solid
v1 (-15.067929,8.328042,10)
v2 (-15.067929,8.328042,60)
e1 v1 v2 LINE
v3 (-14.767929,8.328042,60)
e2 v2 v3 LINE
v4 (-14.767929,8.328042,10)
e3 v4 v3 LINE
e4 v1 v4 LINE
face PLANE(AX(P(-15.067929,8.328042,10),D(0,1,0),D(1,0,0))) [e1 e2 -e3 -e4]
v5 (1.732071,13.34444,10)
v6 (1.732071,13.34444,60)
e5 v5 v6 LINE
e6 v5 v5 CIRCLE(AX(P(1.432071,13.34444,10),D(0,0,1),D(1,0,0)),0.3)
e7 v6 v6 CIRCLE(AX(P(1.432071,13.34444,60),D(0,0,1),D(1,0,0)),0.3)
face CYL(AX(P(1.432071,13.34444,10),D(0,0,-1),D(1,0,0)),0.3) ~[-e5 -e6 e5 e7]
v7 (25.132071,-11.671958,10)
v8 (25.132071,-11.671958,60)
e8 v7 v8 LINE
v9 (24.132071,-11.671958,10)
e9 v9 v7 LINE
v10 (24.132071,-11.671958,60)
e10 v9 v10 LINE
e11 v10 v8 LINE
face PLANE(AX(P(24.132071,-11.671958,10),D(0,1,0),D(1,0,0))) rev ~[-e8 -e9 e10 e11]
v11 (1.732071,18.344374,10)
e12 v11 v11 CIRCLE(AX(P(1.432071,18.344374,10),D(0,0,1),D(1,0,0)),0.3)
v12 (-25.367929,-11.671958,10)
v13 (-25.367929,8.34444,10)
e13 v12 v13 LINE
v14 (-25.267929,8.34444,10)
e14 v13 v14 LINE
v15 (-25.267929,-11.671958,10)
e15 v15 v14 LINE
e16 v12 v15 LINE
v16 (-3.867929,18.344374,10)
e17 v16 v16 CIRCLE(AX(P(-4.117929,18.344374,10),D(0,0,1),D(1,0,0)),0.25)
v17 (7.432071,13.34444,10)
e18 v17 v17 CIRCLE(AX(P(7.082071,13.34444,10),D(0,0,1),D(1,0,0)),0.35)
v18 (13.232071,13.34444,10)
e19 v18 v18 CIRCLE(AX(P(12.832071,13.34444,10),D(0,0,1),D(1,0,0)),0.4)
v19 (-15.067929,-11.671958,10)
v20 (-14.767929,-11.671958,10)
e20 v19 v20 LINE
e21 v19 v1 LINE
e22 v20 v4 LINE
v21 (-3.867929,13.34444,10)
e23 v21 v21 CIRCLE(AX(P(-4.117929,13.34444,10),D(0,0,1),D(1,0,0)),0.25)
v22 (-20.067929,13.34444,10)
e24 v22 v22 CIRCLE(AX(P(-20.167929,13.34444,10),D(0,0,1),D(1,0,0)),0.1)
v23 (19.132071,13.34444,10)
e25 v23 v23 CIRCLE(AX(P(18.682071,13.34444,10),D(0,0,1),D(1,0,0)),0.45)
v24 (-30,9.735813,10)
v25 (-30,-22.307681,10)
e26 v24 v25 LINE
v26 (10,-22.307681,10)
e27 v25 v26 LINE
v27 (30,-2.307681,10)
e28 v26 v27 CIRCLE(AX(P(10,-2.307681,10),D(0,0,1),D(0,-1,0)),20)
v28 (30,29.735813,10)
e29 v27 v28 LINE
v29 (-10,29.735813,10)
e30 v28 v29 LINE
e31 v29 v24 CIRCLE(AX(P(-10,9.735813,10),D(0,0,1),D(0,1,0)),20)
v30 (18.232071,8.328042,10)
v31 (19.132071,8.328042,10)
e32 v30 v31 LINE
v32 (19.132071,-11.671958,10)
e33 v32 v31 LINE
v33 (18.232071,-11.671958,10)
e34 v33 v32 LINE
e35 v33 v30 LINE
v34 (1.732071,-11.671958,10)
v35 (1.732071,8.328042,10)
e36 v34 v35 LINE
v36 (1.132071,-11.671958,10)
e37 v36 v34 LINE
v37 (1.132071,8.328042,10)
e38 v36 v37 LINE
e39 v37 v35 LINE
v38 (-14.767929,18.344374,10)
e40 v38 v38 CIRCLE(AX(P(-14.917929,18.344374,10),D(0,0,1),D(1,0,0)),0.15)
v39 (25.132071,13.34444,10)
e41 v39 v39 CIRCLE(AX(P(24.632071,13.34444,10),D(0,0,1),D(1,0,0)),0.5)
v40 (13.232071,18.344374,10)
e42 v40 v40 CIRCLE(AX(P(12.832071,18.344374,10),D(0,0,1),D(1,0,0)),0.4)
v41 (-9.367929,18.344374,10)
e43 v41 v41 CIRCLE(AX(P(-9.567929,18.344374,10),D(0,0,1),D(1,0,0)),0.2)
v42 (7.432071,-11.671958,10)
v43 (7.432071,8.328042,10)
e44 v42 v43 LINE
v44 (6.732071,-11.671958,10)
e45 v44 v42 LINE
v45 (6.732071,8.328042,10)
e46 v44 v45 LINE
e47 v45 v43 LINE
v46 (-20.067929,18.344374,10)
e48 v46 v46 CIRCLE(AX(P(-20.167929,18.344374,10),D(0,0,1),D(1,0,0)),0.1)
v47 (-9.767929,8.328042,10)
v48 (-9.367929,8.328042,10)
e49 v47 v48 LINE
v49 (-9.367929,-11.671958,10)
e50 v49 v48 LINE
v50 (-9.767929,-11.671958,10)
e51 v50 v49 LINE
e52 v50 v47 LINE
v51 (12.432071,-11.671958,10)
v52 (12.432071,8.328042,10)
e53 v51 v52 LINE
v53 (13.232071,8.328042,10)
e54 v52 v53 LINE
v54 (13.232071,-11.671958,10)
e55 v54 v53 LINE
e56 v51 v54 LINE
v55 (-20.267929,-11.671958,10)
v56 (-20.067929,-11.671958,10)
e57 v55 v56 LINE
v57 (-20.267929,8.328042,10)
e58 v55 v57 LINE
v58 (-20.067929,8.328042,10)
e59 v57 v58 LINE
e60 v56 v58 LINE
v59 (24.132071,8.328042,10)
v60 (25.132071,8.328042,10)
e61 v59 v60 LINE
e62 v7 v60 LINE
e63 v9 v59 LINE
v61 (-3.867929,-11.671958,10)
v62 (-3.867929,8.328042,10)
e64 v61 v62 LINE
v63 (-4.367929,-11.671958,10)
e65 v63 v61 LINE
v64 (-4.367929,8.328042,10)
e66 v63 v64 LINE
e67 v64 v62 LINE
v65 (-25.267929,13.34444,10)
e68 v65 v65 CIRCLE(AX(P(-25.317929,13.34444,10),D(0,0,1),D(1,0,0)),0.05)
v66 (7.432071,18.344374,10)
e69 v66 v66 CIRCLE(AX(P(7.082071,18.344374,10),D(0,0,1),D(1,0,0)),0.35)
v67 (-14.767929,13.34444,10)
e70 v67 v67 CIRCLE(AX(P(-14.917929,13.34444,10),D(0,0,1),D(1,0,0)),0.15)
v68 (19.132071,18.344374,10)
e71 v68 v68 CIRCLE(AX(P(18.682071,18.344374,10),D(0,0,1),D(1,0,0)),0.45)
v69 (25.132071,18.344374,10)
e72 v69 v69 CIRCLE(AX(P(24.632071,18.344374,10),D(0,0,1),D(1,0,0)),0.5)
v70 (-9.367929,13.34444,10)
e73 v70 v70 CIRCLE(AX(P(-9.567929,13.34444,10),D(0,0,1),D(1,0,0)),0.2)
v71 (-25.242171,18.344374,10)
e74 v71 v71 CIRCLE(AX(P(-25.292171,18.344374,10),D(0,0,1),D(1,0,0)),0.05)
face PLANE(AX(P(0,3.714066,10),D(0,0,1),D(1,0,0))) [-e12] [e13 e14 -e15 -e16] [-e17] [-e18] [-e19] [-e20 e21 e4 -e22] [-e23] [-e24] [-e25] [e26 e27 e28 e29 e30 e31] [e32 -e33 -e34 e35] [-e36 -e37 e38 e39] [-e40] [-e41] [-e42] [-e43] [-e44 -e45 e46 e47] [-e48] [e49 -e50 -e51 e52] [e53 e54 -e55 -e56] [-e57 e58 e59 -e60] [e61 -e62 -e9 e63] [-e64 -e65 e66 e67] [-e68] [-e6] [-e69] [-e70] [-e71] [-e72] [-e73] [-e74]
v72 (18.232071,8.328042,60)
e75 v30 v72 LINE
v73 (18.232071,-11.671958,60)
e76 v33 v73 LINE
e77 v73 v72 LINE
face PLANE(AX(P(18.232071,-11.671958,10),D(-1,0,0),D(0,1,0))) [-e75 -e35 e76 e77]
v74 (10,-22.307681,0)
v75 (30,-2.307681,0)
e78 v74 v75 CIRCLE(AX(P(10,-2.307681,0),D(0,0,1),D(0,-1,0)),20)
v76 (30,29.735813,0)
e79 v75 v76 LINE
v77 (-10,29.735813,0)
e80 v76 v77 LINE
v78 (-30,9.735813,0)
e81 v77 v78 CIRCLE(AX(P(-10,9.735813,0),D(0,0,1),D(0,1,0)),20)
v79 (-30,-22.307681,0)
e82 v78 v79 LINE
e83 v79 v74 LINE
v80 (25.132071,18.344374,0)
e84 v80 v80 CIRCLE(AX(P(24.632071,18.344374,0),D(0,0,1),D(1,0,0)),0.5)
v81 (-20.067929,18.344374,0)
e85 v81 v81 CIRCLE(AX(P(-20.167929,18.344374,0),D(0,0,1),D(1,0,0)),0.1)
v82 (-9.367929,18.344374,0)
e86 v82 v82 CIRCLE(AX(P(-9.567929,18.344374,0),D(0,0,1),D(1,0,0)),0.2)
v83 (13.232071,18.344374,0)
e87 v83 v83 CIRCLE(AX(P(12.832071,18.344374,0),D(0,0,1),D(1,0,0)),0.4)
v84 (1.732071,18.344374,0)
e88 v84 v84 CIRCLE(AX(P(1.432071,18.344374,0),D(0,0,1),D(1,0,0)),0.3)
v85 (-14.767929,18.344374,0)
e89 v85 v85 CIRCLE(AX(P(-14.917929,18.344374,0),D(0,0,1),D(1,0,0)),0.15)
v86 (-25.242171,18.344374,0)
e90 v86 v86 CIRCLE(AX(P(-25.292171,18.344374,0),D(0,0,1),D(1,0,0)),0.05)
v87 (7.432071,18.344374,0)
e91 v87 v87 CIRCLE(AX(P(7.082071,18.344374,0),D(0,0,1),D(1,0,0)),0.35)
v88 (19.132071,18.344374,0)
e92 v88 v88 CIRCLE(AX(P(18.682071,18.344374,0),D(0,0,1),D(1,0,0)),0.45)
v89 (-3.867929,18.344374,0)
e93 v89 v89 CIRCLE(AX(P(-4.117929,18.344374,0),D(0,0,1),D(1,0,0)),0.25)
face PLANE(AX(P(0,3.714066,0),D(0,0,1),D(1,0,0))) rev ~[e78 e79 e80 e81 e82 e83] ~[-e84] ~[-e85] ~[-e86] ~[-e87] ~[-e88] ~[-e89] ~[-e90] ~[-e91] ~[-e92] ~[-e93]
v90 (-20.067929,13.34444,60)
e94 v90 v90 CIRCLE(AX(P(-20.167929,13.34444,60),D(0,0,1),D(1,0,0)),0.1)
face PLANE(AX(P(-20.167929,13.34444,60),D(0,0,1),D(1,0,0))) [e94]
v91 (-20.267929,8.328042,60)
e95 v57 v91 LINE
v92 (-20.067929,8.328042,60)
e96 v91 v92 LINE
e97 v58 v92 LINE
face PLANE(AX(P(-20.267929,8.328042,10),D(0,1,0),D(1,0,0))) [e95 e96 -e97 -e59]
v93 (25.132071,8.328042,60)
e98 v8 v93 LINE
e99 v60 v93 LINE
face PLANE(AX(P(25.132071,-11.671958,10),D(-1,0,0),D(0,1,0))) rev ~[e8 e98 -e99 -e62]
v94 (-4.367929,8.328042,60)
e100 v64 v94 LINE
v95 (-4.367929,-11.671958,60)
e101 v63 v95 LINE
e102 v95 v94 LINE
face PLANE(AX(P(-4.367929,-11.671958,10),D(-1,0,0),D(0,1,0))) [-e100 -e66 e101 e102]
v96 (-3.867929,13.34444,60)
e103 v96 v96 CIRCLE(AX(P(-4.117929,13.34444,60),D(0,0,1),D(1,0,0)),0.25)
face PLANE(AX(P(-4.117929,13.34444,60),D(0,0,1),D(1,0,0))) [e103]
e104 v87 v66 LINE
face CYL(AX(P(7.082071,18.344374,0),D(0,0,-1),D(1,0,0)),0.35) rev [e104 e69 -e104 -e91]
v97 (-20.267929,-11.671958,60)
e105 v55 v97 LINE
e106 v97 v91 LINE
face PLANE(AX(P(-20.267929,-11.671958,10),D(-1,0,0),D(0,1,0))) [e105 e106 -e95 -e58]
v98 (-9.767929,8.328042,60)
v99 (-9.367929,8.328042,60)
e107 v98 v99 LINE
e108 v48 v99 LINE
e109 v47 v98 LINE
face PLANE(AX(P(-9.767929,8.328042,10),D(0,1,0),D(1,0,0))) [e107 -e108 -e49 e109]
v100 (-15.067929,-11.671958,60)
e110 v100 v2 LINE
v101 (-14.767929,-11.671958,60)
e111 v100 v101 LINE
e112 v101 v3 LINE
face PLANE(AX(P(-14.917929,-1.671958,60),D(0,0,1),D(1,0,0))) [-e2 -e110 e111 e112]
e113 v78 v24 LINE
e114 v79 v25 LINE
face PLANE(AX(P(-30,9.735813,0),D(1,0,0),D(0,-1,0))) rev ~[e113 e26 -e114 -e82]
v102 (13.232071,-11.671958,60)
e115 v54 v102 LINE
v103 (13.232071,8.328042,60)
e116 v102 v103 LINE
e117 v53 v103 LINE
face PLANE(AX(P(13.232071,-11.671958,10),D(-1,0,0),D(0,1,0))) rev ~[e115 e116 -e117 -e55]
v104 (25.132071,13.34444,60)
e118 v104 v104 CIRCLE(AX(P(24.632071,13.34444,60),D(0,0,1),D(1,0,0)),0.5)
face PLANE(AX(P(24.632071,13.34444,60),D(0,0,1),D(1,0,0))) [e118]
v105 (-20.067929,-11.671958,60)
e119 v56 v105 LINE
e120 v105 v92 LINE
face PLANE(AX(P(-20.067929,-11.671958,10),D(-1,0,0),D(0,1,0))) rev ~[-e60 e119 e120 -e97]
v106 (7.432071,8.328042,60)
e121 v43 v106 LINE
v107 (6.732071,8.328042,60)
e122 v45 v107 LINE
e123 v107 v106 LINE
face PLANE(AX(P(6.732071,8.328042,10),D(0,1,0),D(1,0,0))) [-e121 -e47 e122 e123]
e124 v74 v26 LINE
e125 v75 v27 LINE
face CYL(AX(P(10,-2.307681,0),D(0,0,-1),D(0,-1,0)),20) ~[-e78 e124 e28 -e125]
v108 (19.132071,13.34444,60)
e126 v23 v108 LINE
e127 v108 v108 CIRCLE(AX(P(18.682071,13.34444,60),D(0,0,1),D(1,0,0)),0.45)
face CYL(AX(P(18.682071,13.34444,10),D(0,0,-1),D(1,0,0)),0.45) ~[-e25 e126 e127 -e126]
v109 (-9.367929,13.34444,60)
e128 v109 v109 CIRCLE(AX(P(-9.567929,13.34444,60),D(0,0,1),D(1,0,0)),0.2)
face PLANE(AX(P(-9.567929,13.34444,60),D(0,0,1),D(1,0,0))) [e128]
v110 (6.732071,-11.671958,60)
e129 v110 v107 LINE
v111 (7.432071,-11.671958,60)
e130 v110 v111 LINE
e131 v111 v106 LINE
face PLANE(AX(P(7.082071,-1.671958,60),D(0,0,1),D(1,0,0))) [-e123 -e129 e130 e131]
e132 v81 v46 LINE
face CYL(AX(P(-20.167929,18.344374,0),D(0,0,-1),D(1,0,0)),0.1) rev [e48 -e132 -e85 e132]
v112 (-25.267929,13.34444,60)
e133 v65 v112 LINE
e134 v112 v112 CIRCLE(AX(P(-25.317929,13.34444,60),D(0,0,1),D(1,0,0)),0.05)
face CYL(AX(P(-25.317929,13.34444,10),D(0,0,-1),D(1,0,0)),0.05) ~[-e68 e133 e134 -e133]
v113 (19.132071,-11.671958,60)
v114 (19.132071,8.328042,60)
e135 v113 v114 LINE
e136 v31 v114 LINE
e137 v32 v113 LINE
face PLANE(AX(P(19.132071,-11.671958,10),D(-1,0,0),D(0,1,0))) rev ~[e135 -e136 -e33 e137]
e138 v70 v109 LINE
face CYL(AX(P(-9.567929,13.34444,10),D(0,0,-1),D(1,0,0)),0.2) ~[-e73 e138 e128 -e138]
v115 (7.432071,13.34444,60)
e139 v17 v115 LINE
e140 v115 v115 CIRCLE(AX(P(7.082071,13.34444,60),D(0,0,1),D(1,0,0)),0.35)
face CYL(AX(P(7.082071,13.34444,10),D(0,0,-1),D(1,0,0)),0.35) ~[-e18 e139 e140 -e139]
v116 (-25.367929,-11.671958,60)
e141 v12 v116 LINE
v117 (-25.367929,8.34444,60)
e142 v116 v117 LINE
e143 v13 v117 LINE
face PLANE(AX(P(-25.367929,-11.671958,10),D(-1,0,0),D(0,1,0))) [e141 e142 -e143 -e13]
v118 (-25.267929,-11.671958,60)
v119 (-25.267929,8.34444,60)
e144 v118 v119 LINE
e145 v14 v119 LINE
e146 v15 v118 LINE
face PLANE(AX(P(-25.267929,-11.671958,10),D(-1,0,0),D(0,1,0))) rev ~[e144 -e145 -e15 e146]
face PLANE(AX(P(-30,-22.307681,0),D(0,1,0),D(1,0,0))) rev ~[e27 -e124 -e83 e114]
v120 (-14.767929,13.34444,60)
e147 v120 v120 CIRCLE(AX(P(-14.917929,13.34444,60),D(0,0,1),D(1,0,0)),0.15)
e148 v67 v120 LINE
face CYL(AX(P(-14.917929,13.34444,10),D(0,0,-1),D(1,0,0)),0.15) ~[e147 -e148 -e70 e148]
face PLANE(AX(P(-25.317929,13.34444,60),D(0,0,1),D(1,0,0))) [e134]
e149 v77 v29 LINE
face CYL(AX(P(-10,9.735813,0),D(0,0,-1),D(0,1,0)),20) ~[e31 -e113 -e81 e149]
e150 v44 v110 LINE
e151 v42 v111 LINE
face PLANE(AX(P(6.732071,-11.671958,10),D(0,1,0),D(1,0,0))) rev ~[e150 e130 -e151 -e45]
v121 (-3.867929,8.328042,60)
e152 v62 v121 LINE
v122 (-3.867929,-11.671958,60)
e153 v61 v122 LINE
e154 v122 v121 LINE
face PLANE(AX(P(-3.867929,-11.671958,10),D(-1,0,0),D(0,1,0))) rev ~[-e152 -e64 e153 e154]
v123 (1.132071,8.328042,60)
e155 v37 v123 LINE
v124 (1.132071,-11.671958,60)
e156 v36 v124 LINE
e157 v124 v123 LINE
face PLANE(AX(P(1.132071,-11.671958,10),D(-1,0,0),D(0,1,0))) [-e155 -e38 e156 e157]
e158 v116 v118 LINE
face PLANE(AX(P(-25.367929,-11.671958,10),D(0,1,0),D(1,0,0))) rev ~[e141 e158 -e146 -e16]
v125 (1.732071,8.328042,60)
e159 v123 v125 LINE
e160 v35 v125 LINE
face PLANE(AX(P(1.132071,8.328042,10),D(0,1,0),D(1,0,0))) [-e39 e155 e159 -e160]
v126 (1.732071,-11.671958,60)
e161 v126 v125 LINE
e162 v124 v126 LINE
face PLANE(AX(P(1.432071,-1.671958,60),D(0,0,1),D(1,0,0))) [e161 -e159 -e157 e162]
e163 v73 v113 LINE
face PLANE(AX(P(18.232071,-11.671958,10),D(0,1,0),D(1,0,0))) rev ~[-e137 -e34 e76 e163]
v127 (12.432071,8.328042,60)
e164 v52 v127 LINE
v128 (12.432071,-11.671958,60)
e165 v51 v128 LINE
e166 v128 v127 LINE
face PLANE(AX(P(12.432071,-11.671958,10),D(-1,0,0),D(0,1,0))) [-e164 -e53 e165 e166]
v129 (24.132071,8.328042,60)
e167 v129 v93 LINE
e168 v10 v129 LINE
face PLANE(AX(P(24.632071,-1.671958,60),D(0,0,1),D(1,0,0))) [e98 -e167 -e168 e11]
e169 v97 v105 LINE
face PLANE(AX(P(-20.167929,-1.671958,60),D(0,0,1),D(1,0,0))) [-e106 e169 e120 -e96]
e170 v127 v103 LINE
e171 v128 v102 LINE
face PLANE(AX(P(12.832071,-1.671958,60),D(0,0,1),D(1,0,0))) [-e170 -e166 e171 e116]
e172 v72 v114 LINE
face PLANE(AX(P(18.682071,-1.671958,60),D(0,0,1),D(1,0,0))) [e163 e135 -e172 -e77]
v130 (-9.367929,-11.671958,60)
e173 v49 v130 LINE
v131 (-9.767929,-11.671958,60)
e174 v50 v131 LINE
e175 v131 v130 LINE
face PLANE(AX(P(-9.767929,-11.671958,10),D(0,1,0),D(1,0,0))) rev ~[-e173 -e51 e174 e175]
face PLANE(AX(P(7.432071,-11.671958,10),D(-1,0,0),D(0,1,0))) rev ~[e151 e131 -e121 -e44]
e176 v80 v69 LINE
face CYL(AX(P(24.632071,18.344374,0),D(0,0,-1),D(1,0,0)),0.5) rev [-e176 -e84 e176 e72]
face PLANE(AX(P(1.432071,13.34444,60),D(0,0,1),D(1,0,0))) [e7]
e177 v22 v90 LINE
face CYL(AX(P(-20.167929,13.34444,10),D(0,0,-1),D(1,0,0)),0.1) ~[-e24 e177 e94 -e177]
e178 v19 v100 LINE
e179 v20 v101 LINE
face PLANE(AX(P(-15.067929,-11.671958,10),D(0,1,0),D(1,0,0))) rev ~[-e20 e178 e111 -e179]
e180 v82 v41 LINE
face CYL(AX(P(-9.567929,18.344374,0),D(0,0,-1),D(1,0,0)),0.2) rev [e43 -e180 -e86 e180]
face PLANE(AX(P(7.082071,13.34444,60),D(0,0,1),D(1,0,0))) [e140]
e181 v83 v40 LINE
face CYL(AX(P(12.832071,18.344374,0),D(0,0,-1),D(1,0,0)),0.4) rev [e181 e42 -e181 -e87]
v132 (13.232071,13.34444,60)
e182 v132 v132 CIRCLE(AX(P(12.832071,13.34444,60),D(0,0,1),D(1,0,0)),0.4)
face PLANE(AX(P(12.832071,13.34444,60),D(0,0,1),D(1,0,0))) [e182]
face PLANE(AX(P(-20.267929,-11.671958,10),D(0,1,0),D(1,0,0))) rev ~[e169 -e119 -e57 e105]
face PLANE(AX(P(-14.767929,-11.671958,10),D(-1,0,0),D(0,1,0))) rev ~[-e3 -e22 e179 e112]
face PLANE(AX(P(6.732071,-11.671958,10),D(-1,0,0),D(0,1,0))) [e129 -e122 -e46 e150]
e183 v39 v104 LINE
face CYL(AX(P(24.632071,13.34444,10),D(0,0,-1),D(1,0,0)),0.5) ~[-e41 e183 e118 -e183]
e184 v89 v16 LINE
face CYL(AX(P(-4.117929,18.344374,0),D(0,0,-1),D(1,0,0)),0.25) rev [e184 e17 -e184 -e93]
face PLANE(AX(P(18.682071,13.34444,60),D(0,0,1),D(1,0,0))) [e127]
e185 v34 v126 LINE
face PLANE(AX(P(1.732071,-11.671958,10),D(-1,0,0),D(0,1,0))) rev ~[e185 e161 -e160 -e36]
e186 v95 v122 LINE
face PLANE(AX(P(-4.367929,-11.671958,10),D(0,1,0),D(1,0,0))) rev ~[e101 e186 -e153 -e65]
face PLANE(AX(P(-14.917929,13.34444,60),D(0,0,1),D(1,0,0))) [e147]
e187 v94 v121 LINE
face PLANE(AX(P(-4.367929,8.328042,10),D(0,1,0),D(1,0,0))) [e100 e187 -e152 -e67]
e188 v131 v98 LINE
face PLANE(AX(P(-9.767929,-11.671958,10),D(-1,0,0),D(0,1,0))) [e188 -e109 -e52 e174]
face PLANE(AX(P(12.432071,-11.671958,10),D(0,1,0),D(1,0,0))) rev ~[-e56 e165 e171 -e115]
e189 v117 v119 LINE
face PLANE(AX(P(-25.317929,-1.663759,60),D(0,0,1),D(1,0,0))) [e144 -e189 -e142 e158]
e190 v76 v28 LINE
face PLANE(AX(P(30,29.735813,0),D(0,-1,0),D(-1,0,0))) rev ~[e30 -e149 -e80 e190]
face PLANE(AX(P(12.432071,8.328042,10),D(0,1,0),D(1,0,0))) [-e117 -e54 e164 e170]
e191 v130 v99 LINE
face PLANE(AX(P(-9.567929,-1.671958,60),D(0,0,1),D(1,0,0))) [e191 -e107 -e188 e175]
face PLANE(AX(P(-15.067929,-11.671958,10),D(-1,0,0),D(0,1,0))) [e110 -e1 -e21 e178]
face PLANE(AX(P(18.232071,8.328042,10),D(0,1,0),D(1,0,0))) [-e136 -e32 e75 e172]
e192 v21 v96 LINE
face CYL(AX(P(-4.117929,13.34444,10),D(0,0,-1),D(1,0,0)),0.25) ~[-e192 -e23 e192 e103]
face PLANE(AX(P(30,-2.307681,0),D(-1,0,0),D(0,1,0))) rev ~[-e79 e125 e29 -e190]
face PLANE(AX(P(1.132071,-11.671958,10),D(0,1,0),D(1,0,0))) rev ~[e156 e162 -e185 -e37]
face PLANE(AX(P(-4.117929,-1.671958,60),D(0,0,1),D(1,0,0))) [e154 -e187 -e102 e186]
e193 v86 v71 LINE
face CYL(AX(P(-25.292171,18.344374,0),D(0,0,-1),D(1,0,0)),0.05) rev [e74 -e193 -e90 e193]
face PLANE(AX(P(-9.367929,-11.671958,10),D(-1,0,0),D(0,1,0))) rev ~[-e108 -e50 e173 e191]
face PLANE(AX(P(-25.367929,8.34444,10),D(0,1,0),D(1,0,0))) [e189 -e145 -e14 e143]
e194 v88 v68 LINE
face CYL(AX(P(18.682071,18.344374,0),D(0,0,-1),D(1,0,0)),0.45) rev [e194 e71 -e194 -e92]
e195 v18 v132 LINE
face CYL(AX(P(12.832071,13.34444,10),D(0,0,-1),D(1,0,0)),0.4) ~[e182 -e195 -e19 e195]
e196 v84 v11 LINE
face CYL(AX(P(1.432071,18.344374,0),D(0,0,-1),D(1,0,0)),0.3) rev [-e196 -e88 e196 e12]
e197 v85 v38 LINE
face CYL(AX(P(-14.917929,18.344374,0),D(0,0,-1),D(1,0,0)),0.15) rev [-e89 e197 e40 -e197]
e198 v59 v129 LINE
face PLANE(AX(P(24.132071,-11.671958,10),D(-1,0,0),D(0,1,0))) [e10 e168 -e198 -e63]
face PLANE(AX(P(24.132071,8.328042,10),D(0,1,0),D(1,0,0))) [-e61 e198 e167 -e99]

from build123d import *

# Parameters (mm, degrees)
F0_W     = 0.1
F0_H     = 20.0163984491
F0_W_2   = 0.2
F0_H_2   = 20
F0_W_3   = 0.3
F0_W_4   = 0.4
F0_W_5   = 0.5
F0_W_6   = 0.6
F0_W_7   = 0.7
F0_W_8   = 0.8
F0_W_9   = 0.9
F0_W_10  = 1
F0_R     = 0.05
F0_R_2   = 0.1
F0_R_3   = 0.15
F0_R_4   = 0.2
F0_R_5   = 0.25
F0_R_6   = 0.3
F0_R_7   = 0.35
F0_R_8   = 0.4
F0_R_9   = 0.45
F0_R_10  = 0.5
F1_DEPTH = 10
F2_W     = 1
F2_H     = 20
F2_W_2   = 0.2
F2_W_3   = 0.5
F2_W_4   = 0.9
F2_W_5   = 0.7
F2_W_6   = 0.8
F2_W_7   = 0.6
F2_R     = 0.35
F2_R_2   = 0.2
F2_R_3   = 0.15
F2_R_4   = 0.1
F2_W_8   = 0.3
F2_R_5   = 0.3
F2_R_6   = 0.4
F2_R_7   = 0.05
F2_R_8   = 0.45
F2_R_9   = 0.5
F2_R_10  = 0.25
F2_W_9   = 0.4
F2_W_10  = 0.1
F2_H_2   = 20.0163984491
F3_DEPTH = 50


with BuildPart() as f1:
    # F0 (on Top) → F1 (new body)
    with BuildSketch(Plane.XY):
        with BuildLine():
            Line((30, 29.7358127656), (-10, 29.7358127656))
            ThreePointArc((-10, 29.7358127656), (-24.1421356237, 23.8779483894), (-30, 9.7358127656))
            Line((-30, 9.7358127656), (-30, -22.3076807681))
            Line((-30, -22.3076807681), (10, -22.3076807681))
            ThreePointArc((10, -22.3076807681), (24.1421356237, -16.4498163918), (30, -2.3076807681))
            Line((30, -2.3076807681), (30, 29.7358127656))
        make_face()
        with Locations((-25.3179286689, -1.6637592667)):
            Rectangle(F0_W, F0_H, mode=Mode.SUBTRACT)
        with Locations((-20.1679286689, -1.6719584912)):
            Rectangle(F0_W_2, F0_H_2, mode=Mode.SUBTRACT)
        with Locations((-14.9179286689, -1.6719584912)):
            Rectangle(F0_W_3, F0_H_2, mode=Mode.SUBTRACT)
        with Locations((-9.5679286689, -1.6719584912)):
            Rectangle(F0_W_4, F0_H_2, mode=Mode.SUBTRACT)
        with Locations((-4.1179286689, -1.6719584912)):
            Rectangle(F0_W_5, F0_H_2, mode=Mode.SUBTRACT)
        with Locations((1.4320713311, -1.6719584912)):
            Rectangle(F0_W_6, F0_H_2, mode=Mode.SUBTRACT)
        with Locations((7.0820713311, -1.6719584912)):
            Rectangle(F0_W_7, F0_H_2, mode=Mode.SUBTRACT)
        with Locations((12.8320713311, -1.6719584912)):
            Rectangle(F0_W_8, F0_H_2, mode=Mode.SUBTRACT)
        with Locations((18.6820713311, -1.6719584912)):
            Rectangle(F0_W_9, F0_H_2, mode=Mode.SUBTRACT)
        with Locations((24.6320713311, -1.6719584912)):
            Rectangle(F0_W_10, F0_H_2, mode=Mode.SUBTRACT)
        with Locations((-25.3179286689, 13.3444399579)):
            Circle(F0_R, mode=Mode.SUBTRACT)
        with Locations((-20.1679286689, 13.3444399579)):
            Circle(F0_R_2, mode=Mode.SUBTRACT)
        with Locations((-14.9179286689, 13.3444399579)):
            Circle(F0_R_3, mode=Mode.SUBTRACT)
        with Locations((-9.5679286689, 13.3444399579)):
            Circle(F0_R_4, mode=Mode.SUBTRACT)
        with Locations((-4.1179286689, 13.3444399579)):
            Circle(F0_R_5, mode=Mode.SUBTRACT)
        with Locations((-25.2921710323, 18.3443736119)):
            Circle(F0_R, mode=Mode.SUBTRACT)
        with Locations((-20.1679286689, 18.3443736119)):
            Circle(F0_R_2, mode=Mode.SUBTRACT)
        with Locations((-14.9179286689, 18.3443736119)):
            Circle(F0_R_3, mode=Mode.SUBTRACT)
        with Locations((-9.5679286689, 18.3443736119)):
            Circle(F0_R_4, mode=Mode.SUBTRACT)
        with Locations((-4.1179286689, 18.3443736119)):
            Circle(F0_R_5, mode=Mode.SUBTRACT)
        with Locations((1.4320713311, 13.3444399579)):
            Circle(F0_R_6, mode=Mode.SUBTRACT)
        with Locations((7.0820713311, 13.3444399579)):
            Circle(F0_R_7, mode=Mode.SUBTRACT)
        with Locations((12.8320713311, 13.3444399579)):
            Circle(F0_R_8, mode=Mode.SUBTRACT)
        with Locations((18.6820713311, 13.3444399579)):
            Circle(F0_R_9, mode=Mode.SUBTRACT)
        with Locations((24.6320713311, 13.3444399579)):
            Circle(F0_R_10, mode=Mode.SUBTRACT)
        with Locations((1.4320713311, 18.3443736119)):
            Circle(F0_R_6, mode=Mode.SUBTRACT)
        with Locations((7.0820713311, 18.3443736119)):
            Circle(F0_R_7, mode=Mode.SUBTRACT)
        with Locations((12.8320713311, 18.3443736119)):
            Circle(F0_R_8, mode=Mode.SUBTRACT)
        with Locations((18.6820713311, 18.3443736119)):
            Circle(F0_R_9, mode=Mode.SUBTRACT)
        with Locations((24.6320713311, 18.3443736119)):
            Circle(F0_R_10, mode=Mode.SUBTRACT)
        with Locations((24.6320713311, -1.6719584912)):
            Rectangle(F0_W_10, F0_H_2)
        with Locations((18.6820713311, -1.6719584912)):
            Rectangle(F0_W_9, F0_H_2)
        with Locations((12.8320713311, -1.6719584912)):
            Rectangle(F0_W_8, F0_H_2)
        with Locations((7.0820713311, -1.6719584912)):
            Rectangle(F0_W_7, F0_H_2)
        with Locations((1.4320713311, -1.6719584912)):
            Rectangle(F0_W_6, F0_H_2)
        with Locations((-4.1179286689, -1.6719584912)):
            Rectangle(F0_W_5, F0_H_2)
        with Locations((-9.5679286689, -1.6719584912)):
            Rectangle(F0_W_4, F0_H_2)
        with Locations((-14.9179286689, -1.6719584912)):
            Rectangle(F0_W_3, F0_H_2)
        with Locations((-20.1679286689, -1.6719584912)):
            Rectangle(F0_W_2, F0_H_2)
        with Locations((-25.3179286689, -1.6637592667)):
            Rectangle(F0_W, F0_H)
        with Locations((24.6320713311, 13.3444399579)):
            Circle(F0_R_10)
        with Locations((18.6820713311, 13.3444399579)):
            Circle(F0_R_9)
        with Locations((12.8320713311, 13.3444399579)):
            Circle(F0_R_8)
        with Locations((7.0820713311, 13.3444399579)):
            Circle(F0_R_7)
        with Locations((1.4320713311, 13.3444399579)):
            Circle(F0_R_6)
        with Locations((-4.1179286689, 13.3444399579)):
            Circle(F0_R_5)
        with Locations((-9.5679286689, 13.3444399579)):
            Circle(F0_R_4)
        with Locations((-14.9179286689, 13.3444399579)):
            Circle(F0_R_3)
        with Locations((-20.1679286689, 13.3444399579)):
            Circle(F0_R_2)
        with Locations((-25.3179286689, 13.3444399579)):
            Circle(F0_R)
    extrude(amount=F1_DEPTH)

    # F2 (on face) → F3 (join)
    with BuildSketch(Plane.XY.offset(10)):
        with Locations((24.6320713311, -1.6719584912)):
            Rectangle(F2_W, F2_H)
        with Locations((-20.1679286689, -1.6719584912)):
            Rectangle(F2_W_2, F2_H)
        with Locations((-4.1179286689, -1.6719584912)):
            Rectangle(F2_W_3, F2_H)
        with Locations((18.6820713311, -1.6719584912)):
            Rectangle(F2_W_4, F2_H)
        with Locations((7.0820713311, -1.6719584912)):
            Rectangle(F2_W_5, F2_H)
        with Locations((12.8320713311, -1.6719584912)):
            Rectangle(F2_W_6, F2_H)
        with Locations((1.4320713311, -1.6719584912)):
            Rectangle(F2_W_7, F2_H)
        with Locations((7.0820713311, 13.3444399579)):
            Circle(F2_R)
        with Locations((-9.5679286689, 13.3444399579)):
            Circle(F2_R_2)
        with Locations((-14.9179286689, 13.3444399579)):
            Circle(F2_R_3)
        with Locations((-20.1679286689, 13.3444399579)):
            Circle(F2_R_4)
        with Locations((-14.9179286689, -1.6719584912)):
            Rectangle(F2_W_8, F2_H)
        with Locations((1.4320713311, 13.3444399579)):
            Circle(F2_R_5)
        with Locations((12.8320713311, 13.3444399579)):
            Circle(F2_R_6)
        with Locations((-25.3179286689, 13.3444399579)):
            Circle(F2_R_7)
        with Locations((18.6820713311, 13.3444399579)):
            Circle(F2_R_8)
        with Locations((24.6320713311, 13.3444399579)):
            Circle(F2_R_9)
        with Locations((-4.1179286689, 13.3444399579)):
            Circle(F2_R_10)
        with Locations((-9.5679286689, -1.6719584912)):
            Rectangle(F2_W_9, F2_H)
        with Locations((-25.3179286689, -1.6637592667)):
            Rectangle(F2_W_10, F2_H_2)
    extrude(amount=F3_DEPTH)


solid = f1.part
